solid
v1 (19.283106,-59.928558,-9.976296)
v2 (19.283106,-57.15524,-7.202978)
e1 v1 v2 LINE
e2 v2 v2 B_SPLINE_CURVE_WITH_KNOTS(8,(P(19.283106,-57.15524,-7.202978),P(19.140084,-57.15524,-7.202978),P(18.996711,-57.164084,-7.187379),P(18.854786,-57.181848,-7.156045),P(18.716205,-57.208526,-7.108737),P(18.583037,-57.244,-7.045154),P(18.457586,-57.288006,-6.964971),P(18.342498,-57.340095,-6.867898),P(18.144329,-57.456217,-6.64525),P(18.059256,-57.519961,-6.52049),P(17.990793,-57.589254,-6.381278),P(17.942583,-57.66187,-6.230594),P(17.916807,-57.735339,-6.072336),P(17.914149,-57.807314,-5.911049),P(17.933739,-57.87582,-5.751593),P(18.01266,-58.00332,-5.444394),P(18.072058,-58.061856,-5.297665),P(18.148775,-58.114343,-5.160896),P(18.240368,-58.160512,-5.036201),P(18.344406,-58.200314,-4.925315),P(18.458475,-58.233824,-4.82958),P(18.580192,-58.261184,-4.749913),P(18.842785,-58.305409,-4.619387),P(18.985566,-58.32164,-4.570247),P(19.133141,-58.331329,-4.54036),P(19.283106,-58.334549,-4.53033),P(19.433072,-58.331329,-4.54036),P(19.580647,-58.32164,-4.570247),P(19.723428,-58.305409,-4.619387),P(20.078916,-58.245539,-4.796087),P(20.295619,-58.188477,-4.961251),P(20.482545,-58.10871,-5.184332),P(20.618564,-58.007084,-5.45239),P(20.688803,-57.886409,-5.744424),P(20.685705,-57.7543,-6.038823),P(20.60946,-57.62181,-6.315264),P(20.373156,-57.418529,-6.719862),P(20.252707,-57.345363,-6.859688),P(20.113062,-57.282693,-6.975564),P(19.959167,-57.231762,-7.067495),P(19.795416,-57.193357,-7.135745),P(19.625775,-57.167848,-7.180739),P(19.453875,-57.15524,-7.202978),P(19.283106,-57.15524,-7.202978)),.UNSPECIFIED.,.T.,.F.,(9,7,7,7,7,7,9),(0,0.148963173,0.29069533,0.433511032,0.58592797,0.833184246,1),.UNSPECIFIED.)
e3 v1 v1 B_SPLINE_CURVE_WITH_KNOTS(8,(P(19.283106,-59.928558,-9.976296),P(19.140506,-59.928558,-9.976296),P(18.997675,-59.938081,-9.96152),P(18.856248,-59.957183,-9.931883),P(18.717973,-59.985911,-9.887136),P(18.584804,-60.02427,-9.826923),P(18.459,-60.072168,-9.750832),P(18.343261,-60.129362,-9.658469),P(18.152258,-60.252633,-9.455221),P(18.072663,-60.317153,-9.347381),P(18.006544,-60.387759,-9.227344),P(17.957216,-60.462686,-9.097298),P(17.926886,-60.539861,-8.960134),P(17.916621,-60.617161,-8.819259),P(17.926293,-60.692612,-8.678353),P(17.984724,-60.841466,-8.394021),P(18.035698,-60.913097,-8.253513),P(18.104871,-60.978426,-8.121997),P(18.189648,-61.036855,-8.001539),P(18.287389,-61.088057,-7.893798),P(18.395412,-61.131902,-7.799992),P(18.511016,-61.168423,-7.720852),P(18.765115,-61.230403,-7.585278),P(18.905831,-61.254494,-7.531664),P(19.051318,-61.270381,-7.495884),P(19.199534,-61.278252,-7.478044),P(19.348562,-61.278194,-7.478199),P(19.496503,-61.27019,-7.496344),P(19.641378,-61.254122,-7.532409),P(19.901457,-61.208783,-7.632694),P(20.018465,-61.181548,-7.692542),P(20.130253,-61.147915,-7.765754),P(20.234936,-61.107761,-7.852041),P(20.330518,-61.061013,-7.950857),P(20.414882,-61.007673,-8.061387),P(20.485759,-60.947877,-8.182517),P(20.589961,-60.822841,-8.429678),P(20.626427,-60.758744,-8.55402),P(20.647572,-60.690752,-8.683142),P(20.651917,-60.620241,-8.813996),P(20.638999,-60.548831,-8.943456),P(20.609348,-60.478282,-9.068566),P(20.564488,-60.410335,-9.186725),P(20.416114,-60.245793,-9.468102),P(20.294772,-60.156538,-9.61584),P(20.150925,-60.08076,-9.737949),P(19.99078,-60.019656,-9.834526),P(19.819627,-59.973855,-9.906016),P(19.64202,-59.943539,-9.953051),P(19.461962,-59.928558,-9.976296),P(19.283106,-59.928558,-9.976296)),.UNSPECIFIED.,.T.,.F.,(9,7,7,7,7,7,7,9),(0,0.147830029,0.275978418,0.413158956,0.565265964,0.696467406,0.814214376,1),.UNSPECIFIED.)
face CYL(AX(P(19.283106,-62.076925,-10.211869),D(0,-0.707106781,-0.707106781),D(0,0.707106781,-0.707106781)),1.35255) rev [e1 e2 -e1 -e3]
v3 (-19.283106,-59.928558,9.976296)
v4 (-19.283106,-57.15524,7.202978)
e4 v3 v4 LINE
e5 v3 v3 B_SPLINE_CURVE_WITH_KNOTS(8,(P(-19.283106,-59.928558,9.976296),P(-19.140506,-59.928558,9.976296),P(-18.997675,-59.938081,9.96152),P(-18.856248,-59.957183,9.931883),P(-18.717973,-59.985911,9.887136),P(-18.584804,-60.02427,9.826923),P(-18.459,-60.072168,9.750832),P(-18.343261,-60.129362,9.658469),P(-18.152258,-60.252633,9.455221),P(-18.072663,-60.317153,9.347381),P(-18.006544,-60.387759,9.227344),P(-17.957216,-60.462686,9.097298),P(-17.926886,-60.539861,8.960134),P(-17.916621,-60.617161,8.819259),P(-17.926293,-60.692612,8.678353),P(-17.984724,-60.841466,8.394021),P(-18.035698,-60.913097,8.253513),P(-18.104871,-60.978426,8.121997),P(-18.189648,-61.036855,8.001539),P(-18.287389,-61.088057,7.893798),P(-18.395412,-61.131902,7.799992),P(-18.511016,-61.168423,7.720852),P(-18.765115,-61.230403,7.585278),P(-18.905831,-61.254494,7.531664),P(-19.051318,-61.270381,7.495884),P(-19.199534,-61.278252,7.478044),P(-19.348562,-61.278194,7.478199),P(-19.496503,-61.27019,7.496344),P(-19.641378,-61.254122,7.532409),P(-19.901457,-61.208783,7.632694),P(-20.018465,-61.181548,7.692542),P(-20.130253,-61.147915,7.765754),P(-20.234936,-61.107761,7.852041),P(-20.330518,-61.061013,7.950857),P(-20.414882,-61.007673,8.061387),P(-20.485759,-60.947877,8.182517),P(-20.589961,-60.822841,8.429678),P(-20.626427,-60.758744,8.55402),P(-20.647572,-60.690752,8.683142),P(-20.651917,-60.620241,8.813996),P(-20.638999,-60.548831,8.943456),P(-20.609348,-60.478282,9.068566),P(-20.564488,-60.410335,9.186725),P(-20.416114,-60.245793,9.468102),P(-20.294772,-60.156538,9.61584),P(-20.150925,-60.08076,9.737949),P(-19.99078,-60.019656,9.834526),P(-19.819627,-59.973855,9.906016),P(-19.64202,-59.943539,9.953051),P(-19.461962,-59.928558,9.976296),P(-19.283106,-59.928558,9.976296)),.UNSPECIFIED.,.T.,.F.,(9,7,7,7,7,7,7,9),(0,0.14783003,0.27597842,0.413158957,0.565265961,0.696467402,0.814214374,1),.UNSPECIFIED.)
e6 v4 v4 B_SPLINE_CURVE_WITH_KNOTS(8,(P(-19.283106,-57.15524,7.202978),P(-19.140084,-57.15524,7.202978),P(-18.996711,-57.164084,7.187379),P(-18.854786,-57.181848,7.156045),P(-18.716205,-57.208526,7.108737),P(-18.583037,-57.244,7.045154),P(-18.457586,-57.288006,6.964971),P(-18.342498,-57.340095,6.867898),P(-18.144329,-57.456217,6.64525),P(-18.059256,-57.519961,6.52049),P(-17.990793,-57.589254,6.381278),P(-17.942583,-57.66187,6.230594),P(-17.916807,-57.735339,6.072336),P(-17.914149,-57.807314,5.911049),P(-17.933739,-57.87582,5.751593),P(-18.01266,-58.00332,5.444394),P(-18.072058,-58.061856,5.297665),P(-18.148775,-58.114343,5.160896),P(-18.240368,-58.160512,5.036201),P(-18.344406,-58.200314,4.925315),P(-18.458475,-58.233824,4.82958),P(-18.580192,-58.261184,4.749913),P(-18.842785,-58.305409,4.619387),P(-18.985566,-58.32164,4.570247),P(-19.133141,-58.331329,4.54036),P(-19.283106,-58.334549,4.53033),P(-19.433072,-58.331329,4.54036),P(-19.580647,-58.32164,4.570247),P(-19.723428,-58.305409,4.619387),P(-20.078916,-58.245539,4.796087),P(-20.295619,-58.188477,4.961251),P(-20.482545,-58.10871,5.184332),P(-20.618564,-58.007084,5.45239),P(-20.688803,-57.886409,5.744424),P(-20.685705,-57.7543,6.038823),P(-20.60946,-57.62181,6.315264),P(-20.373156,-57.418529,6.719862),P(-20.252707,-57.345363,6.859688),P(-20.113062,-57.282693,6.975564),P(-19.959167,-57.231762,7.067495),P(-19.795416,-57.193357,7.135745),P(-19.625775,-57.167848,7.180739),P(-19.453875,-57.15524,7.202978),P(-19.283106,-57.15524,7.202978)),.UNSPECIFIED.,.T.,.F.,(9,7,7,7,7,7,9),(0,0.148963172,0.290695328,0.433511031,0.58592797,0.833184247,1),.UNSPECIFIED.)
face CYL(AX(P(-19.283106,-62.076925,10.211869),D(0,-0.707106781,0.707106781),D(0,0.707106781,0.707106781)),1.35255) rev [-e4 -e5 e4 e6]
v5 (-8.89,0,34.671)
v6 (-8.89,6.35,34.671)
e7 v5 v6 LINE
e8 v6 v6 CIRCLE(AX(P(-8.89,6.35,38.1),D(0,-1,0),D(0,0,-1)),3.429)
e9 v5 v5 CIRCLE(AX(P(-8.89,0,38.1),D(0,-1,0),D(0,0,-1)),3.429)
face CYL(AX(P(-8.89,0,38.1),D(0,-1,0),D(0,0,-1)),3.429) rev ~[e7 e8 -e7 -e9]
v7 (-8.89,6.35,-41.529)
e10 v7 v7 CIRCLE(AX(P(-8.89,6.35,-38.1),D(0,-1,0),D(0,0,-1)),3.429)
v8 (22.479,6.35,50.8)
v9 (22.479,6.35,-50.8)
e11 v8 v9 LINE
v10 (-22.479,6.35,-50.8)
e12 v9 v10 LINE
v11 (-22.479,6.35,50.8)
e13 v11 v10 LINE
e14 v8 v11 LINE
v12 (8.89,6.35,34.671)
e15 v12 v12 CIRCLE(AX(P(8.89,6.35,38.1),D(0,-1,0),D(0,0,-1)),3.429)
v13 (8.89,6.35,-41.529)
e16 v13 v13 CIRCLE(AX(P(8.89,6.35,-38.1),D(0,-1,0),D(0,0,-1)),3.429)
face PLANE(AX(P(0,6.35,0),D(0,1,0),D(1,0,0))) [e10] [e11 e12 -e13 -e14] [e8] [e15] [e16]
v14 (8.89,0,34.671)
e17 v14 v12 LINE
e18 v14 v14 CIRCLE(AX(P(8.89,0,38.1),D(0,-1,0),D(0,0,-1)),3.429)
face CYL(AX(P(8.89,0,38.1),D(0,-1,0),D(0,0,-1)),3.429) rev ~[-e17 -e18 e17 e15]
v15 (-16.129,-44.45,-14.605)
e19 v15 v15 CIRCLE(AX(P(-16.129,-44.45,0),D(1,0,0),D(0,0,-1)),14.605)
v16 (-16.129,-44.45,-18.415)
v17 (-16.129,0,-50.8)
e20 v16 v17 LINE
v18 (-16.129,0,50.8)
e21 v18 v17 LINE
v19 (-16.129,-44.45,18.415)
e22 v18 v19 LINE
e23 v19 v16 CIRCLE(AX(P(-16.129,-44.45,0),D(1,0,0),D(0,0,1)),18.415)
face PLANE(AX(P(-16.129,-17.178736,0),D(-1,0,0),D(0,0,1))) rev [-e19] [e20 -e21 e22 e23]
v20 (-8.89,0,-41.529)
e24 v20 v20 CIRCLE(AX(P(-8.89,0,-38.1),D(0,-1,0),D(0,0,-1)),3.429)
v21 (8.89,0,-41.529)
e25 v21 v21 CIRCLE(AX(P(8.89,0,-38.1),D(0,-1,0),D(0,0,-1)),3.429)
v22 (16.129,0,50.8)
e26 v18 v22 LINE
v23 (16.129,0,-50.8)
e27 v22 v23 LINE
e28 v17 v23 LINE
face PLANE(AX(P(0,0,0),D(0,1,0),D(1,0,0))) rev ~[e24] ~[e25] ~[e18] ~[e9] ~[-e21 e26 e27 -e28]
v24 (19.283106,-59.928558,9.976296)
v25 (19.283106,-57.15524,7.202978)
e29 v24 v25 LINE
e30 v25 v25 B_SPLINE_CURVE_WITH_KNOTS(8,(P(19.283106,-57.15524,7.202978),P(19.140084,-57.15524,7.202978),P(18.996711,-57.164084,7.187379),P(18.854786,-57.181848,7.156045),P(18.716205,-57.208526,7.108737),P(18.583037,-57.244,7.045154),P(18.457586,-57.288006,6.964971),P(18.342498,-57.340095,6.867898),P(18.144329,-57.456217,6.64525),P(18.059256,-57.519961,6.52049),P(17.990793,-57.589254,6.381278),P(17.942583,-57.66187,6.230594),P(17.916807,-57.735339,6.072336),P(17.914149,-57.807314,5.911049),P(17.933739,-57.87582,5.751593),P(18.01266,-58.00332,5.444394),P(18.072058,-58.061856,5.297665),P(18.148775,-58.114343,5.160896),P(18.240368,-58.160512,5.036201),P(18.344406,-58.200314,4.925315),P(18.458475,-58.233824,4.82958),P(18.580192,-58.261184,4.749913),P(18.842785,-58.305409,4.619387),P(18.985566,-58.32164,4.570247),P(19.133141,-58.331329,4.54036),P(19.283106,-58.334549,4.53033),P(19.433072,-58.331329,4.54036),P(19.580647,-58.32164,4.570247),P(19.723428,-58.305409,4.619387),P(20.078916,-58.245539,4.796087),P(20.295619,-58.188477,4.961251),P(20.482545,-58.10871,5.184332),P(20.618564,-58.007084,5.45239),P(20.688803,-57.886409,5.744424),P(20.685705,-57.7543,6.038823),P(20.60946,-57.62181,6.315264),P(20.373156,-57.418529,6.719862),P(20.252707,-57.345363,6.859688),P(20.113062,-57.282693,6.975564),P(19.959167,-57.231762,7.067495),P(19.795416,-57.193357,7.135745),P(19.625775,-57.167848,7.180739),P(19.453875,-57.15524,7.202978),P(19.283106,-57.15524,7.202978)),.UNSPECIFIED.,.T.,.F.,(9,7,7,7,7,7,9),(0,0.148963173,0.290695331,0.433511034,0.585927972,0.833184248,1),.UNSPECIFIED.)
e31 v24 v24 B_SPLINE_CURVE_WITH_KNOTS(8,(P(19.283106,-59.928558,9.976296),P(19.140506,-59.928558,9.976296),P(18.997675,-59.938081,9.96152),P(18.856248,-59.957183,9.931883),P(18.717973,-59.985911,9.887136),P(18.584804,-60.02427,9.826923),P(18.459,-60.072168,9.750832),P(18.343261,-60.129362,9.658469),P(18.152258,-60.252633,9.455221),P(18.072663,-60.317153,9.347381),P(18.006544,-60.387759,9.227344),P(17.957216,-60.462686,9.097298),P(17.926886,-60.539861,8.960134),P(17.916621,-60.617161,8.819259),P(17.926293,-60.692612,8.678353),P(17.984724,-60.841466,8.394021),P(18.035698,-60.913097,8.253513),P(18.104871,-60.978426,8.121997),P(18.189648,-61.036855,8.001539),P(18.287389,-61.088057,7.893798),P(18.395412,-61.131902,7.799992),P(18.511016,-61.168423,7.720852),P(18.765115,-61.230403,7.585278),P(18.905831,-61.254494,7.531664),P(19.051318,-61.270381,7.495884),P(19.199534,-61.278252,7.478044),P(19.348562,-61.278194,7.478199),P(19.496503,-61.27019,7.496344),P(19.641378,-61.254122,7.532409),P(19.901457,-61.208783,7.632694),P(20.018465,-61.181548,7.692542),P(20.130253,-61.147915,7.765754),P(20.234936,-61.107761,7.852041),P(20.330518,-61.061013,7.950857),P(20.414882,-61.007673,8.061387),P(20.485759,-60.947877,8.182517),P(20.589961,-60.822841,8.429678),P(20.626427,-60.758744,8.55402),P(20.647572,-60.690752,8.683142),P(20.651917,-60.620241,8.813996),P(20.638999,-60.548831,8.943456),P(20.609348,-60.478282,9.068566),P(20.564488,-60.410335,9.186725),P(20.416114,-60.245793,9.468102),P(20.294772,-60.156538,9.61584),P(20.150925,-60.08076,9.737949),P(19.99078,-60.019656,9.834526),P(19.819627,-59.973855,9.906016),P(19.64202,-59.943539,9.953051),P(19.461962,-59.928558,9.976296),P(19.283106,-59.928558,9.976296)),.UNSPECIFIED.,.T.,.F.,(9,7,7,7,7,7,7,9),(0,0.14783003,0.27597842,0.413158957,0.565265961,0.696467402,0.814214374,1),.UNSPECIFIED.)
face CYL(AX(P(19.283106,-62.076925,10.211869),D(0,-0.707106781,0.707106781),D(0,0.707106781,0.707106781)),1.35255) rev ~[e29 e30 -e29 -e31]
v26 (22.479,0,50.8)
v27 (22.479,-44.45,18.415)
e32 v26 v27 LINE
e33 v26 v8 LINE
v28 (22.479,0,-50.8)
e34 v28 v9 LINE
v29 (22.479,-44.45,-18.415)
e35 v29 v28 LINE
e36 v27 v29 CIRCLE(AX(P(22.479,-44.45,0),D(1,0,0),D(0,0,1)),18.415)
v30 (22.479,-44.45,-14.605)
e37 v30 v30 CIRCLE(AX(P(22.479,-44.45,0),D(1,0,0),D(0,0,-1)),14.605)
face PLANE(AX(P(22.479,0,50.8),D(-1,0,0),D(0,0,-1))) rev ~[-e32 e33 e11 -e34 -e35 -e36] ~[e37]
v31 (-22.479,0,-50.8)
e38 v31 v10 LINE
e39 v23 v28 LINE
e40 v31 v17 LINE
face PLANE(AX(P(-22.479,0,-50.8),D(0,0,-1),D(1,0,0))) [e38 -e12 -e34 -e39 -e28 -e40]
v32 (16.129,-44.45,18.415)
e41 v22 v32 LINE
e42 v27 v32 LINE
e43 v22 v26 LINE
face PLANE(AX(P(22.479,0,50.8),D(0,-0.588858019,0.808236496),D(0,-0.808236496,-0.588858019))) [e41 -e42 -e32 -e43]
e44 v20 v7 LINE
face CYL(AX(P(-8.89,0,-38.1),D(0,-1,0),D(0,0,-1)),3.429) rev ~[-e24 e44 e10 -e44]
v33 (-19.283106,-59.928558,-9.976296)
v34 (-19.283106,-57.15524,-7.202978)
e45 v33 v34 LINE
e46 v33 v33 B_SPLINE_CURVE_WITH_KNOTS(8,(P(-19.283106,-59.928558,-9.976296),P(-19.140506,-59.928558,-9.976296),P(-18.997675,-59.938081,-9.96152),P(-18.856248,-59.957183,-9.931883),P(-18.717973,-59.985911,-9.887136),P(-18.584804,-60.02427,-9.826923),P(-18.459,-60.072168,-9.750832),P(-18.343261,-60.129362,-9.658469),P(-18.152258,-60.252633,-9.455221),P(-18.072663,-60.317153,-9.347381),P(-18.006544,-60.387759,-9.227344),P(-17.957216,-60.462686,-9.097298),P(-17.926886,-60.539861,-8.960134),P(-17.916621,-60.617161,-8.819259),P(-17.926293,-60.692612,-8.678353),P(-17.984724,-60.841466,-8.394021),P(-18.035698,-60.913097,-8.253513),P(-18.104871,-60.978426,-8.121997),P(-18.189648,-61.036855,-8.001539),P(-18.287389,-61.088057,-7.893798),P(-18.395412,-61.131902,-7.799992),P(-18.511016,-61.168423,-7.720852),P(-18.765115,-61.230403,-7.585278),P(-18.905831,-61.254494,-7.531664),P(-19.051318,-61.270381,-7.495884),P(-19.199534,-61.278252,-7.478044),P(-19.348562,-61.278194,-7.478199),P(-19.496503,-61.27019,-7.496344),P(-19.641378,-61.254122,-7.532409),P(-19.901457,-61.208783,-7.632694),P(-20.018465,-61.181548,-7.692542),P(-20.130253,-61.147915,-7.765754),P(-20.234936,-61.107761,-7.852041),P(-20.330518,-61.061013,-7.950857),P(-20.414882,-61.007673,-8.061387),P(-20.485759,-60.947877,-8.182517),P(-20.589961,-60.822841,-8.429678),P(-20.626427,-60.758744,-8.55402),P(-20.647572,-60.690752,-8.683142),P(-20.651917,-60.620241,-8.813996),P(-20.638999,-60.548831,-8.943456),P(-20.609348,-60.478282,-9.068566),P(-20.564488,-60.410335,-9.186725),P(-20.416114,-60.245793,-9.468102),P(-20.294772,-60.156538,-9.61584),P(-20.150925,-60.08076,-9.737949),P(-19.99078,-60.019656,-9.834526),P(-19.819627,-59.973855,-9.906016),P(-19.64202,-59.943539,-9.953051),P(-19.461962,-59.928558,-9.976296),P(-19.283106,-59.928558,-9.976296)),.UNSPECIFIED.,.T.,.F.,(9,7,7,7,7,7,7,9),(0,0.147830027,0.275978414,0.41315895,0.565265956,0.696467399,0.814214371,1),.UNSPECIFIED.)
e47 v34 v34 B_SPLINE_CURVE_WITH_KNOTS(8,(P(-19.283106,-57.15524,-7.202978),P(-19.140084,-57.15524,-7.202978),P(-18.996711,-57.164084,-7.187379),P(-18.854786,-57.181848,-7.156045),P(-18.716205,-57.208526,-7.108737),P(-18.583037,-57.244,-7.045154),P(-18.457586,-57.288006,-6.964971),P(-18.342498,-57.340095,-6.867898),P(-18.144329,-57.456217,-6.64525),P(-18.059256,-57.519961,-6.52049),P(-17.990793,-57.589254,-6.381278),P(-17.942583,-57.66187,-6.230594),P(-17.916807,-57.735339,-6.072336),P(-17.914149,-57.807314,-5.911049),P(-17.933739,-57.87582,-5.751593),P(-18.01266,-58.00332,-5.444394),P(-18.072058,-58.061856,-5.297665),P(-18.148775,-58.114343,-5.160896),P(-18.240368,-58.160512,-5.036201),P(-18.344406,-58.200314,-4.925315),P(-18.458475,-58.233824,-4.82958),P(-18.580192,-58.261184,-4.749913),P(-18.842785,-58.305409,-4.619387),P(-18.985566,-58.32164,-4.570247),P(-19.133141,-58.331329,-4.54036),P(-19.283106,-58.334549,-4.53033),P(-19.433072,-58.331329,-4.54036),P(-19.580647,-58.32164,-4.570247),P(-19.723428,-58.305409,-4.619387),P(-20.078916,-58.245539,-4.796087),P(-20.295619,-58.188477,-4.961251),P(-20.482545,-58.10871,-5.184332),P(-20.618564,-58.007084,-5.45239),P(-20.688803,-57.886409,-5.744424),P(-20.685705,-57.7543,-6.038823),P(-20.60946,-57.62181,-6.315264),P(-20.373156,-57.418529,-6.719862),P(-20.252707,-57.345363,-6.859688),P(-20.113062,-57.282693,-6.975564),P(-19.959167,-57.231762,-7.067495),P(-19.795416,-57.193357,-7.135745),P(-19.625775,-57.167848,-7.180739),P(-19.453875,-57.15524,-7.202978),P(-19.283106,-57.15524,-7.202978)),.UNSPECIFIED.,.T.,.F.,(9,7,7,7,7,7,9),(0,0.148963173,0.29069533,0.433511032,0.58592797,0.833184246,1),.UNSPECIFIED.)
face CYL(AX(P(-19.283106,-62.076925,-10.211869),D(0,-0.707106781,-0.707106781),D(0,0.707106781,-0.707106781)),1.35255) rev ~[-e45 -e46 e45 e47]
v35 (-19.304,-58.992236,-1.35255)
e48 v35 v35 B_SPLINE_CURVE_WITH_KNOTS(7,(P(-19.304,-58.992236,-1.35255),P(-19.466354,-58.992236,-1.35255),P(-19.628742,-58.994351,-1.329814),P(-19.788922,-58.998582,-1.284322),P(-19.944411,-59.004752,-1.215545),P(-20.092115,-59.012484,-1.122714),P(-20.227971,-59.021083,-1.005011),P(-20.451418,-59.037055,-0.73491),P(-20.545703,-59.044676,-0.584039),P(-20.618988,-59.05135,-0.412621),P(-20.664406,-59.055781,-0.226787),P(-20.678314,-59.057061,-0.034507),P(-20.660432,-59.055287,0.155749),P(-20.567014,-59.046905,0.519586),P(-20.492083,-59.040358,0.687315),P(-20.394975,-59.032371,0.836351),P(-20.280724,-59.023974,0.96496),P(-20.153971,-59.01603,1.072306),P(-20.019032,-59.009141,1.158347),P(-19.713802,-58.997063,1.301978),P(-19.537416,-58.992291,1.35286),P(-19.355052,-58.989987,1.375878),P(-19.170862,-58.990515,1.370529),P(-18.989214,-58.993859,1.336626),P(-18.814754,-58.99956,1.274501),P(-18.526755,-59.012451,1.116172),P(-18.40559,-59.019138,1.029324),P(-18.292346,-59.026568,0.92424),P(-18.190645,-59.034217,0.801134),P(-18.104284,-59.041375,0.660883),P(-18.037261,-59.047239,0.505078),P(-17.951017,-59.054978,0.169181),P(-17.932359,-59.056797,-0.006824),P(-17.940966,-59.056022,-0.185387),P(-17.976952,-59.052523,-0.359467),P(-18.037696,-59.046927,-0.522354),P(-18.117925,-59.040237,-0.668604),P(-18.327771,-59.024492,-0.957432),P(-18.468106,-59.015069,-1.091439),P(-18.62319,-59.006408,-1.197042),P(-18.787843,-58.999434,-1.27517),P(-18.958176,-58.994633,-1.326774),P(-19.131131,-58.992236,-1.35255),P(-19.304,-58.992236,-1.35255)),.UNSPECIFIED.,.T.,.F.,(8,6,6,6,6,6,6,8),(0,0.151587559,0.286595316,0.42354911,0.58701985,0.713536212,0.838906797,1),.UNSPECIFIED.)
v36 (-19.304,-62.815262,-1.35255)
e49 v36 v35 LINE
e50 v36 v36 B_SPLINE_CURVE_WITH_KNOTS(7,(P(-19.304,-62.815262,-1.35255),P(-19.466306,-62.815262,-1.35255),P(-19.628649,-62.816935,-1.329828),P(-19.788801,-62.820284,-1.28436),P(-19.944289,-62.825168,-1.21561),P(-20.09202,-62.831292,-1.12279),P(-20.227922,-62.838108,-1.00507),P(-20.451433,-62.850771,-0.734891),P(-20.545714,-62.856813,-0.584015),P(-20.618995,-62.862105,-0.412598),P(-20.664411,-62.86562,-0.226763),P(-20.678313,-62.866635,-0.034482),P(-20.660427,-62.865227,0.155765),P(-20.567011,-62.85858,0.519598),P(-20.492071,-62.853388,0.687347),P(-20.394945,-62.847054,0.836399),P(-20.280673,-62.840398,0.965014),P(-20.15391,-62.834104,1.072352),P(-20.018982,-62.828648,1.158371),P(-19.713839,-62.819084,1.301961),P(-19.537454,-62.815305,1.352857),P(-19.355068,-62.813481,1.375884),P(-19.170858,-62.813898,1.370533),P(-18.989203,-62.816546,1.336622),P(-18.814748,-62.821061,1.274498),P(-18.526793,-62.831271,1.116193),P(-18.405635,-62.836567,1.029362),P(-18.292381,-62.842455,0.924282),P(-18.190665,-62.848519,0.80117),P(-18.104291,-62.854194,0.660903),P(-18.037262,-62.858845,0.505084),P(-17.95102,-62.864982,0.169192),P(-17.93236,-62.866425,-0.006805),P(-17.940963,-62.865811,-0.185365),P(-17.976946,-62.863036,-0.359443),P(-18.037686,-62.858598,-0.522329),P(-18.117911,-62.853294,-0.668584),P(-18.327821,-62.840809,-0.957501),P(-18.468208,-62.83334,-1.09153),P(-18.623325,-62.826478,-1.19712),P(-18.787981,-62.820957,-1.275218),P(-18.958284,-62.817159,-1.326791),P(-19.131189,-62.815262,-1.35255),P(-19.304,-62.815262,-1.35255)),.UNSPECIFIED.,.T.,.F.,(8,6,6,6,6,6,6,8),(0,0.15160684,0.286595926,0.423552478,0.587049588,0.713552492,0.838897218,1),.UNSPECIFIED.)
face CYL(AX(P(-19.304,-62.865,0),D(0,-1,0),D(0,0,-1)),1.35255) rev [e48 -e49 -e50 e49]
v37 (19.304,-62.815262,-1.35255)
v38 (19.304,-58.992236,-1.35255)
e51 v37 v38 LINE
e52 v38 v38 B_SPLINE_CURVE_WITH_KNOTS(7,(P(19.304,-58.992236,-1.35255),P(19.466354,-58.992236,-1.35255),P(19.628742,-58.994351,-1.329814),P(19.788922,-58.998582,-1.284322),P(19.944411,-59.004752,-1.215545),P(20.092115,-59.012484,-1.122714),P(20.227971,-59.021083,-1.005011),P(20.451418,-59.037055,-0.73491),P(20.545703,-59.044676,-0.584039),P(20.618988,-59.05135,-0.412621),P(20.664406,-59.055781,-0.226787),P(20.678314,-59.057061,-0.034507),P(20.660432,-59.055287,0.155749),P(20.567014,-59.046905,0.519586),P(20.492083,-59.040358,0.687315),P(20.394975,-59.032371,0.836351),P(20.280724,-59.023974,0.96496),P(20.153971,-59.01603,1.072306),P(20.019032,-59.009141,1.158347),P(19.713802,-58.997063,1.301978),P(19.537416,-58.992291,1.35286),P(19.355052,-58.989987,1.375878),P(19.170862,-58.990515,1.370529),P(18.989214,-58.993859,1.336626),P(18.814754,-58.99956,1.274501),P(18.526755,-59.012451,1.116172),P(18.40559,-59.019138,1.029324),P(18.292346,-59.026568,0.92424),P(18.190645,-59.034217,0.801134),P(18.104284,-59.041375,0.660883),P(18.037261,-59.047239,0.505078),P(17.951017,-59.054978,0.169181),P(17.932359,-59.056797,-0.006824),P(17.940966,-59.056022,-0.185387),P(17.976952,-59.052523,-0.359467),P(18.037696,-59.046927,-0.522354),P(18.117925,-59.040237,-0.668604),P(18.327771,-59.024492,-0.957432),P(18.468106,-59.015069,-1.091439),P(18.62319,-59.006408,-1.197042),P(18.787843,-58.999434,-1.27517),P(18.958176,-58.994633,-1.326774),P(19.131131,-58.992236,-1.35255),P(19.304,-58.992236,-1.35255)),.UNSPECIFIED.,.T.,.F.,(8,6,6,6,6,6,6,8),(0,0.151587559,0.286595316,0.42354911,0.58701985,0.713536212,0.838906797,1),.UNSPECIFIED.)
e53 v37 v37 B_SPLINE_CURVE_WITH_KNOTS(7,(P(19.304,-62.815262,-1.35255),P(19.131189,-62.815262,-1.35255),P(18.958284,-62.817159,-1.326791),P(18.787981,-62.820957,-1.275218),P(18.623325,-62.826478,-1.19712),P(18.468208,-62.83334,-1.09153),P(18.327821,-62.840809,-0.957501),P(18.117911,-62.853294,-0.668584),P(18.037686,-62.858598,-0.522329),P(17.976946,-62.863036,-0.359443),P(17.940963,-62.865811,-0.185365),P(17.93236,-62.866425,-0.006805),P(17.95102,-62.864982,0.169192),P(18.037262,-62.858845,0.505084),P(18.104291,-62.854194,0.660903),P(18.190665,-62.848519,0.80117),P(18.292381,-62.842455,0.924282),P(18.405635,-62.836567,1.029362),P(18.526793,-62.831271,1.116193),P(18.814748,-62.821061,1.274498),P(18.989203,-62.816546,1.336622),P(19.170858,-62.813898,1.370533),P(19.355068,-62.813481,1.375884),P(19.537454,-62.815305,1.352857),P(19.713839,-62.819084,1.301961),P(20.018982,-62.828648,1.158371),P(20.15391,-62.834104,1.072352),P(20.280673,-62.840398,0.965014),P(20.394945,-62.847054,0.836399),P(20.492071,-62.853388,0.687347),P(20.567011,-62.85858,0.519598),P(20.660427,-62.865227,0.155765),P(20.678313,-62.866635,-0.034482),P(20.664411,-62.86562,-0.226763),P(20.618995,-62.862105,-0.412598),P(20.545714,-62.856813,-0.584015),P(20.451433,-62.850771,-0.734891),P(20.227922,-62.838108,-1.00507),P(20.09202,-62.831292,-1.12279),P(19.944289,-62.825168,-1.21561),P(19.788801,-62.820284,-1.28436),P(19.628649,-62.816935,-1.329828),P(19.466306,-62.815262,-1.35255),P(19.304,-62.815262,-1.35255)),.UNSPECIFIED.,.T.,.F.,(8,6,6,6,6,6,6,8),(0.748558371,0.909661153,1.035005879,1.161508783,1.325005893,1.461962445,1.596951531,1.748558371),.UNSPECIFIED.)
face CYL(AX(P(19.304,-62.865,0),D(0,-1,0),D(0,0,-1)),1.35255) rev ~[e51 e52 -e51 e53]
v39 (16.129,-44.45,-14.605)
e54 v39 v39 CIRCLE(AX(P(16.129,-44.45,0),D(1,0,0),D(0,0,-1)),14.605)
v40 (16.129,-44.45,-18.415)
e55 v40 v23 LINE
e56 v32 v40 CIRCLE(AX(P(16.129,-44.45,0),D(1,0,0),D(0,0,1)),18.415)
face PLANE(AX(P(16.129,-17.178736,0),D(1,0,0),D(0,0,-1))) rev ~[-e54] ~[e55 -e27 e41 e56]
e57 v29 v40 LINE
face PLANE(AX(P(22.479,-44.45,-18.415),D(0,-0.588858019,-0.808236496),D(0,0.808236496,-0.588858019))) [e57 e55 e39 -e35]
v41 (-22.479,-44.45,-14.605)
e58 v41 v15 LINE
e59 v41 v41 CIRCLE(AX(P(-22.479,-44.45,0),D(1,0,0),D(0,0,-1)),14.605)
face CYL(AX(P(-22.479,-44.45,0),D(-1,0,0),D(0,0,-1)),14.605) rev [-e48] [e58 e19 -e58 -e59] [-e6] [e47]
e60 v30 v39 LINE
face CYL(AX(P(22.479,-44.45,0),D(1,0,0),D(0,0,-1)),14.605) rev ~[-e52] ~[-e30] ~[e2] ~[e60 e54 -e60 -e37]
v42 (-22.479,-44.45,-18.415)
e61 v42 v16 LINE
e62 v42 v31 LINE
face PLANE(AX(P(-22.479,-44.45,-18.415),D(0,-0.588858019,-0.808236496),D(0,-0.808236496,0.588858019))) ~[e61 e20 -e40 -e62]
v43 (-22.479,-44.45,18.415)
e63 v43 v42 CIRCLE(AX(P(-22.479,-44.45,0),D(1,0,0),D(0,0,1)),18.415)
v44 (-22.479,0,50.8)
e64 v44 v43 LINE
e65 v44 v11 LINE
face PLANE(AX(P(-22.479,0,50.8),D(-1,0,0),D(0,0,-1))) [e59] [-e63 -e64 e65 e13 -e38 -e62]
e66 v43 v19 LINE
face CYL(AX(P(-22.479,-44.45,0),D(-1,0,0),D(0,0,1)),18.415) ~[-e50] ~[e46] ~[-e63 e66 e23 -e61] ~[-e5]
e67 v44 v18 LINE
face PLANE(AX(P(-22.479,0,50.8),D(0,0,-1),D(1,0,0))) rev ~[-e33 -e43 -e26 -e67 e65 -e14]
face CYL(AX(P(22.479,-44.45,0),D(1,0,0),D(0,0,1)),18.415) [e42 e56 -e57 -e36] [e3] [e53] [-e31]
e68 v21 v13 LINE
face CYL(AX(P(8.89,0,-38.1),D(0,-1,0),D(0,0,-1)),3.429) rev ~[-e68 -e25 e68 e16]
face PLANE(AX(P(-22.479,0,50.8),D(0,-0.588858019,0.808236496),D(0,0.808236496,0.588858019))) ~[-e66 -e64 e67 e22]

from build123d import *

# Parameters (mm, degrees)
SKETCH2_W               = 44.958
SKETCH2_H               = 101.6
BOSS_EXTRUDE1_DEPTH     = 6.35
SKETCH3_R               = 14.605
BOSS_EXTRUDE2_DEPTH     = 6.35
SKETCH5_R               = 1.35255
CUT_EXTRUDE1_DEPTH      = 16.256
SKETCH6_R               = 1.35255
CUT_EXTRUDE2_DEPTH      = 9.652
MIRROR2_COPY_1_SKETCH_R = 1.35255
MIRROR2_COPY_1_DEPTH    = 9.652
SKETCH7_R               = 3.429
CUT_EXTRUDE3_DEPTH      = 6.35


with BuildPart() as part:
    # Sketch2 → Boss-Extrude1 (new body)
    with BuildSketch(Plane(origin=(0, 0, 0), x_dir=(1, 0, 0), z_dir=(0, 1, 0))):
        Rectangle(SKETCH2_W, SKETCH2_H)
    extrude(amount=BOSS_EXTRUDE1_DEPTH)

    # Sketch3 → Boss-Extrude2 (add)
    with BuildSketch(Plane(origin=(22.479, 0, 0), x_dir=(0, 0, -1), z_dir=(1, 0, 0))):
        with BuildLine():
            Line((-50.8, 6.35), (-50.8, 0))
            Line((-50.8, 0), (-18.415, -44.45))
            ThreePointArc((-18.415, -44.45), (0, -62.865), (18.415, -44.45))
            Line((18.415, -44.45), (50.8, 0))
            Line((50.8, 0), (50.8, 6.35))
            Line((50.8, 6.35), (-50.8, 6.35))
        make_face()
        with Locations((0, -44.45)):
            Circle(SKETCH3_R, mode=Mode.SUBTRACT)
    boss_extrude2 = extrude(amount=-BOSS_EXTRUDE2_DEPTH)

    # Sketch5 → Cut-Extrude1 (cut)
    with BuildSketch(Plane(origin=(0, -62.865, 0), x_dir=(-1, 0, 0), z_dir=(0, -1, 0))):
        with Locations(Location((-19.304, 0, 0), (0, 0, 90))):
            Circle(SKETCH5_R)
    cut_extrude1 = extrude(amount=-CUT_EXTRUDE1_DEPTH, mode=Mode.SUBTRACT)

    # Sketch6 → Cut-Extrude2 (cut)
    with BuildSketch(Plane(origin=(0, -36.144396988, -36.144396988), x_dir=(1, 0, 0), z_dir=(0, 0.7071067811865464, 0.7071067811865488))):
        with Locations(Location((19.283106482, -36.674133282, 0), (0, 0, 90))):
            Circle(SKETCH6_R)
    cut_extrude2 = extrude(amount=CUT_EXTRUDE2_DEPTH, mode=Mode.SUBTRACT)

    # Mirror1: Cut-Extrude2 across plane
    add(cut_extrude2.mirror(Plane.XY), mode=Mode.SUBTRACT)

    # Mirror2: Boss-Extrude2, Cut-Extrude1, Cut-Extrude2 across plane
    add(boss_extrude2.mirror(Plane(origin=(0, 0, 0), x_dir=(0, 0, 1), z_dir=(1, 0, 0))))
    add(cut_extrude1.mirror(Plane(origin=(0, 0, 0), x_dir=(0, 0, 1), z_dir=(1, 0, 0))), mode=Mode.SUBTRACT)
    add(cut_extrude2.mirror(Plane(origin=(0, 0, 0), x_dir=(0, 0, 1), z_dir=(1, 0, 0))), mode=Mode.SUBTRACT)

    # Mirror2 copy 1 sketch → Mirror2 copy 1 (cut)
    with BuildSketch(Plane(origin=(0, -36.144396988, 36.144396988), x_dir=(-1, 0, 0), z_dir=(0, 0.7071067811865464, -0.7071067811865488))):
        with Locations(Location((19.283106482, -36.674133282, 0), (0, 0, 90))):
            Circle(MIRROR2_COPY_1_SKETCH_R)
    extrude(amount=MIRROR2_COPY_1_DEPTH, mode=Mode.SUBTRACT)

    # Sketch7 → Cut-Extrude3 (cut)
    with BuildSketch(Plane.XZ):
        with Locations(Location((-8.89, 38.1, 0), (0, 0, 270))):
            Circle(SKETCH7_R)
        with Locations(Location((8.89, 38.1, 0), (0, 0, 270))):
            Circle(SKETCH7_R)
        with Locations(Location((8.89, -38.1, 0), (0, 0, 270))):
            Circle(SKETCH7_R)
        with Locations(Location((-8.89, -38.1, 0), (0, 0, 270))):
            Circle(SKETCH7_R)
    extrude(amount=-CUT_EXTRUDE3_DEPTH, mode=Mode.SUBTRACT)


solid = part.part
